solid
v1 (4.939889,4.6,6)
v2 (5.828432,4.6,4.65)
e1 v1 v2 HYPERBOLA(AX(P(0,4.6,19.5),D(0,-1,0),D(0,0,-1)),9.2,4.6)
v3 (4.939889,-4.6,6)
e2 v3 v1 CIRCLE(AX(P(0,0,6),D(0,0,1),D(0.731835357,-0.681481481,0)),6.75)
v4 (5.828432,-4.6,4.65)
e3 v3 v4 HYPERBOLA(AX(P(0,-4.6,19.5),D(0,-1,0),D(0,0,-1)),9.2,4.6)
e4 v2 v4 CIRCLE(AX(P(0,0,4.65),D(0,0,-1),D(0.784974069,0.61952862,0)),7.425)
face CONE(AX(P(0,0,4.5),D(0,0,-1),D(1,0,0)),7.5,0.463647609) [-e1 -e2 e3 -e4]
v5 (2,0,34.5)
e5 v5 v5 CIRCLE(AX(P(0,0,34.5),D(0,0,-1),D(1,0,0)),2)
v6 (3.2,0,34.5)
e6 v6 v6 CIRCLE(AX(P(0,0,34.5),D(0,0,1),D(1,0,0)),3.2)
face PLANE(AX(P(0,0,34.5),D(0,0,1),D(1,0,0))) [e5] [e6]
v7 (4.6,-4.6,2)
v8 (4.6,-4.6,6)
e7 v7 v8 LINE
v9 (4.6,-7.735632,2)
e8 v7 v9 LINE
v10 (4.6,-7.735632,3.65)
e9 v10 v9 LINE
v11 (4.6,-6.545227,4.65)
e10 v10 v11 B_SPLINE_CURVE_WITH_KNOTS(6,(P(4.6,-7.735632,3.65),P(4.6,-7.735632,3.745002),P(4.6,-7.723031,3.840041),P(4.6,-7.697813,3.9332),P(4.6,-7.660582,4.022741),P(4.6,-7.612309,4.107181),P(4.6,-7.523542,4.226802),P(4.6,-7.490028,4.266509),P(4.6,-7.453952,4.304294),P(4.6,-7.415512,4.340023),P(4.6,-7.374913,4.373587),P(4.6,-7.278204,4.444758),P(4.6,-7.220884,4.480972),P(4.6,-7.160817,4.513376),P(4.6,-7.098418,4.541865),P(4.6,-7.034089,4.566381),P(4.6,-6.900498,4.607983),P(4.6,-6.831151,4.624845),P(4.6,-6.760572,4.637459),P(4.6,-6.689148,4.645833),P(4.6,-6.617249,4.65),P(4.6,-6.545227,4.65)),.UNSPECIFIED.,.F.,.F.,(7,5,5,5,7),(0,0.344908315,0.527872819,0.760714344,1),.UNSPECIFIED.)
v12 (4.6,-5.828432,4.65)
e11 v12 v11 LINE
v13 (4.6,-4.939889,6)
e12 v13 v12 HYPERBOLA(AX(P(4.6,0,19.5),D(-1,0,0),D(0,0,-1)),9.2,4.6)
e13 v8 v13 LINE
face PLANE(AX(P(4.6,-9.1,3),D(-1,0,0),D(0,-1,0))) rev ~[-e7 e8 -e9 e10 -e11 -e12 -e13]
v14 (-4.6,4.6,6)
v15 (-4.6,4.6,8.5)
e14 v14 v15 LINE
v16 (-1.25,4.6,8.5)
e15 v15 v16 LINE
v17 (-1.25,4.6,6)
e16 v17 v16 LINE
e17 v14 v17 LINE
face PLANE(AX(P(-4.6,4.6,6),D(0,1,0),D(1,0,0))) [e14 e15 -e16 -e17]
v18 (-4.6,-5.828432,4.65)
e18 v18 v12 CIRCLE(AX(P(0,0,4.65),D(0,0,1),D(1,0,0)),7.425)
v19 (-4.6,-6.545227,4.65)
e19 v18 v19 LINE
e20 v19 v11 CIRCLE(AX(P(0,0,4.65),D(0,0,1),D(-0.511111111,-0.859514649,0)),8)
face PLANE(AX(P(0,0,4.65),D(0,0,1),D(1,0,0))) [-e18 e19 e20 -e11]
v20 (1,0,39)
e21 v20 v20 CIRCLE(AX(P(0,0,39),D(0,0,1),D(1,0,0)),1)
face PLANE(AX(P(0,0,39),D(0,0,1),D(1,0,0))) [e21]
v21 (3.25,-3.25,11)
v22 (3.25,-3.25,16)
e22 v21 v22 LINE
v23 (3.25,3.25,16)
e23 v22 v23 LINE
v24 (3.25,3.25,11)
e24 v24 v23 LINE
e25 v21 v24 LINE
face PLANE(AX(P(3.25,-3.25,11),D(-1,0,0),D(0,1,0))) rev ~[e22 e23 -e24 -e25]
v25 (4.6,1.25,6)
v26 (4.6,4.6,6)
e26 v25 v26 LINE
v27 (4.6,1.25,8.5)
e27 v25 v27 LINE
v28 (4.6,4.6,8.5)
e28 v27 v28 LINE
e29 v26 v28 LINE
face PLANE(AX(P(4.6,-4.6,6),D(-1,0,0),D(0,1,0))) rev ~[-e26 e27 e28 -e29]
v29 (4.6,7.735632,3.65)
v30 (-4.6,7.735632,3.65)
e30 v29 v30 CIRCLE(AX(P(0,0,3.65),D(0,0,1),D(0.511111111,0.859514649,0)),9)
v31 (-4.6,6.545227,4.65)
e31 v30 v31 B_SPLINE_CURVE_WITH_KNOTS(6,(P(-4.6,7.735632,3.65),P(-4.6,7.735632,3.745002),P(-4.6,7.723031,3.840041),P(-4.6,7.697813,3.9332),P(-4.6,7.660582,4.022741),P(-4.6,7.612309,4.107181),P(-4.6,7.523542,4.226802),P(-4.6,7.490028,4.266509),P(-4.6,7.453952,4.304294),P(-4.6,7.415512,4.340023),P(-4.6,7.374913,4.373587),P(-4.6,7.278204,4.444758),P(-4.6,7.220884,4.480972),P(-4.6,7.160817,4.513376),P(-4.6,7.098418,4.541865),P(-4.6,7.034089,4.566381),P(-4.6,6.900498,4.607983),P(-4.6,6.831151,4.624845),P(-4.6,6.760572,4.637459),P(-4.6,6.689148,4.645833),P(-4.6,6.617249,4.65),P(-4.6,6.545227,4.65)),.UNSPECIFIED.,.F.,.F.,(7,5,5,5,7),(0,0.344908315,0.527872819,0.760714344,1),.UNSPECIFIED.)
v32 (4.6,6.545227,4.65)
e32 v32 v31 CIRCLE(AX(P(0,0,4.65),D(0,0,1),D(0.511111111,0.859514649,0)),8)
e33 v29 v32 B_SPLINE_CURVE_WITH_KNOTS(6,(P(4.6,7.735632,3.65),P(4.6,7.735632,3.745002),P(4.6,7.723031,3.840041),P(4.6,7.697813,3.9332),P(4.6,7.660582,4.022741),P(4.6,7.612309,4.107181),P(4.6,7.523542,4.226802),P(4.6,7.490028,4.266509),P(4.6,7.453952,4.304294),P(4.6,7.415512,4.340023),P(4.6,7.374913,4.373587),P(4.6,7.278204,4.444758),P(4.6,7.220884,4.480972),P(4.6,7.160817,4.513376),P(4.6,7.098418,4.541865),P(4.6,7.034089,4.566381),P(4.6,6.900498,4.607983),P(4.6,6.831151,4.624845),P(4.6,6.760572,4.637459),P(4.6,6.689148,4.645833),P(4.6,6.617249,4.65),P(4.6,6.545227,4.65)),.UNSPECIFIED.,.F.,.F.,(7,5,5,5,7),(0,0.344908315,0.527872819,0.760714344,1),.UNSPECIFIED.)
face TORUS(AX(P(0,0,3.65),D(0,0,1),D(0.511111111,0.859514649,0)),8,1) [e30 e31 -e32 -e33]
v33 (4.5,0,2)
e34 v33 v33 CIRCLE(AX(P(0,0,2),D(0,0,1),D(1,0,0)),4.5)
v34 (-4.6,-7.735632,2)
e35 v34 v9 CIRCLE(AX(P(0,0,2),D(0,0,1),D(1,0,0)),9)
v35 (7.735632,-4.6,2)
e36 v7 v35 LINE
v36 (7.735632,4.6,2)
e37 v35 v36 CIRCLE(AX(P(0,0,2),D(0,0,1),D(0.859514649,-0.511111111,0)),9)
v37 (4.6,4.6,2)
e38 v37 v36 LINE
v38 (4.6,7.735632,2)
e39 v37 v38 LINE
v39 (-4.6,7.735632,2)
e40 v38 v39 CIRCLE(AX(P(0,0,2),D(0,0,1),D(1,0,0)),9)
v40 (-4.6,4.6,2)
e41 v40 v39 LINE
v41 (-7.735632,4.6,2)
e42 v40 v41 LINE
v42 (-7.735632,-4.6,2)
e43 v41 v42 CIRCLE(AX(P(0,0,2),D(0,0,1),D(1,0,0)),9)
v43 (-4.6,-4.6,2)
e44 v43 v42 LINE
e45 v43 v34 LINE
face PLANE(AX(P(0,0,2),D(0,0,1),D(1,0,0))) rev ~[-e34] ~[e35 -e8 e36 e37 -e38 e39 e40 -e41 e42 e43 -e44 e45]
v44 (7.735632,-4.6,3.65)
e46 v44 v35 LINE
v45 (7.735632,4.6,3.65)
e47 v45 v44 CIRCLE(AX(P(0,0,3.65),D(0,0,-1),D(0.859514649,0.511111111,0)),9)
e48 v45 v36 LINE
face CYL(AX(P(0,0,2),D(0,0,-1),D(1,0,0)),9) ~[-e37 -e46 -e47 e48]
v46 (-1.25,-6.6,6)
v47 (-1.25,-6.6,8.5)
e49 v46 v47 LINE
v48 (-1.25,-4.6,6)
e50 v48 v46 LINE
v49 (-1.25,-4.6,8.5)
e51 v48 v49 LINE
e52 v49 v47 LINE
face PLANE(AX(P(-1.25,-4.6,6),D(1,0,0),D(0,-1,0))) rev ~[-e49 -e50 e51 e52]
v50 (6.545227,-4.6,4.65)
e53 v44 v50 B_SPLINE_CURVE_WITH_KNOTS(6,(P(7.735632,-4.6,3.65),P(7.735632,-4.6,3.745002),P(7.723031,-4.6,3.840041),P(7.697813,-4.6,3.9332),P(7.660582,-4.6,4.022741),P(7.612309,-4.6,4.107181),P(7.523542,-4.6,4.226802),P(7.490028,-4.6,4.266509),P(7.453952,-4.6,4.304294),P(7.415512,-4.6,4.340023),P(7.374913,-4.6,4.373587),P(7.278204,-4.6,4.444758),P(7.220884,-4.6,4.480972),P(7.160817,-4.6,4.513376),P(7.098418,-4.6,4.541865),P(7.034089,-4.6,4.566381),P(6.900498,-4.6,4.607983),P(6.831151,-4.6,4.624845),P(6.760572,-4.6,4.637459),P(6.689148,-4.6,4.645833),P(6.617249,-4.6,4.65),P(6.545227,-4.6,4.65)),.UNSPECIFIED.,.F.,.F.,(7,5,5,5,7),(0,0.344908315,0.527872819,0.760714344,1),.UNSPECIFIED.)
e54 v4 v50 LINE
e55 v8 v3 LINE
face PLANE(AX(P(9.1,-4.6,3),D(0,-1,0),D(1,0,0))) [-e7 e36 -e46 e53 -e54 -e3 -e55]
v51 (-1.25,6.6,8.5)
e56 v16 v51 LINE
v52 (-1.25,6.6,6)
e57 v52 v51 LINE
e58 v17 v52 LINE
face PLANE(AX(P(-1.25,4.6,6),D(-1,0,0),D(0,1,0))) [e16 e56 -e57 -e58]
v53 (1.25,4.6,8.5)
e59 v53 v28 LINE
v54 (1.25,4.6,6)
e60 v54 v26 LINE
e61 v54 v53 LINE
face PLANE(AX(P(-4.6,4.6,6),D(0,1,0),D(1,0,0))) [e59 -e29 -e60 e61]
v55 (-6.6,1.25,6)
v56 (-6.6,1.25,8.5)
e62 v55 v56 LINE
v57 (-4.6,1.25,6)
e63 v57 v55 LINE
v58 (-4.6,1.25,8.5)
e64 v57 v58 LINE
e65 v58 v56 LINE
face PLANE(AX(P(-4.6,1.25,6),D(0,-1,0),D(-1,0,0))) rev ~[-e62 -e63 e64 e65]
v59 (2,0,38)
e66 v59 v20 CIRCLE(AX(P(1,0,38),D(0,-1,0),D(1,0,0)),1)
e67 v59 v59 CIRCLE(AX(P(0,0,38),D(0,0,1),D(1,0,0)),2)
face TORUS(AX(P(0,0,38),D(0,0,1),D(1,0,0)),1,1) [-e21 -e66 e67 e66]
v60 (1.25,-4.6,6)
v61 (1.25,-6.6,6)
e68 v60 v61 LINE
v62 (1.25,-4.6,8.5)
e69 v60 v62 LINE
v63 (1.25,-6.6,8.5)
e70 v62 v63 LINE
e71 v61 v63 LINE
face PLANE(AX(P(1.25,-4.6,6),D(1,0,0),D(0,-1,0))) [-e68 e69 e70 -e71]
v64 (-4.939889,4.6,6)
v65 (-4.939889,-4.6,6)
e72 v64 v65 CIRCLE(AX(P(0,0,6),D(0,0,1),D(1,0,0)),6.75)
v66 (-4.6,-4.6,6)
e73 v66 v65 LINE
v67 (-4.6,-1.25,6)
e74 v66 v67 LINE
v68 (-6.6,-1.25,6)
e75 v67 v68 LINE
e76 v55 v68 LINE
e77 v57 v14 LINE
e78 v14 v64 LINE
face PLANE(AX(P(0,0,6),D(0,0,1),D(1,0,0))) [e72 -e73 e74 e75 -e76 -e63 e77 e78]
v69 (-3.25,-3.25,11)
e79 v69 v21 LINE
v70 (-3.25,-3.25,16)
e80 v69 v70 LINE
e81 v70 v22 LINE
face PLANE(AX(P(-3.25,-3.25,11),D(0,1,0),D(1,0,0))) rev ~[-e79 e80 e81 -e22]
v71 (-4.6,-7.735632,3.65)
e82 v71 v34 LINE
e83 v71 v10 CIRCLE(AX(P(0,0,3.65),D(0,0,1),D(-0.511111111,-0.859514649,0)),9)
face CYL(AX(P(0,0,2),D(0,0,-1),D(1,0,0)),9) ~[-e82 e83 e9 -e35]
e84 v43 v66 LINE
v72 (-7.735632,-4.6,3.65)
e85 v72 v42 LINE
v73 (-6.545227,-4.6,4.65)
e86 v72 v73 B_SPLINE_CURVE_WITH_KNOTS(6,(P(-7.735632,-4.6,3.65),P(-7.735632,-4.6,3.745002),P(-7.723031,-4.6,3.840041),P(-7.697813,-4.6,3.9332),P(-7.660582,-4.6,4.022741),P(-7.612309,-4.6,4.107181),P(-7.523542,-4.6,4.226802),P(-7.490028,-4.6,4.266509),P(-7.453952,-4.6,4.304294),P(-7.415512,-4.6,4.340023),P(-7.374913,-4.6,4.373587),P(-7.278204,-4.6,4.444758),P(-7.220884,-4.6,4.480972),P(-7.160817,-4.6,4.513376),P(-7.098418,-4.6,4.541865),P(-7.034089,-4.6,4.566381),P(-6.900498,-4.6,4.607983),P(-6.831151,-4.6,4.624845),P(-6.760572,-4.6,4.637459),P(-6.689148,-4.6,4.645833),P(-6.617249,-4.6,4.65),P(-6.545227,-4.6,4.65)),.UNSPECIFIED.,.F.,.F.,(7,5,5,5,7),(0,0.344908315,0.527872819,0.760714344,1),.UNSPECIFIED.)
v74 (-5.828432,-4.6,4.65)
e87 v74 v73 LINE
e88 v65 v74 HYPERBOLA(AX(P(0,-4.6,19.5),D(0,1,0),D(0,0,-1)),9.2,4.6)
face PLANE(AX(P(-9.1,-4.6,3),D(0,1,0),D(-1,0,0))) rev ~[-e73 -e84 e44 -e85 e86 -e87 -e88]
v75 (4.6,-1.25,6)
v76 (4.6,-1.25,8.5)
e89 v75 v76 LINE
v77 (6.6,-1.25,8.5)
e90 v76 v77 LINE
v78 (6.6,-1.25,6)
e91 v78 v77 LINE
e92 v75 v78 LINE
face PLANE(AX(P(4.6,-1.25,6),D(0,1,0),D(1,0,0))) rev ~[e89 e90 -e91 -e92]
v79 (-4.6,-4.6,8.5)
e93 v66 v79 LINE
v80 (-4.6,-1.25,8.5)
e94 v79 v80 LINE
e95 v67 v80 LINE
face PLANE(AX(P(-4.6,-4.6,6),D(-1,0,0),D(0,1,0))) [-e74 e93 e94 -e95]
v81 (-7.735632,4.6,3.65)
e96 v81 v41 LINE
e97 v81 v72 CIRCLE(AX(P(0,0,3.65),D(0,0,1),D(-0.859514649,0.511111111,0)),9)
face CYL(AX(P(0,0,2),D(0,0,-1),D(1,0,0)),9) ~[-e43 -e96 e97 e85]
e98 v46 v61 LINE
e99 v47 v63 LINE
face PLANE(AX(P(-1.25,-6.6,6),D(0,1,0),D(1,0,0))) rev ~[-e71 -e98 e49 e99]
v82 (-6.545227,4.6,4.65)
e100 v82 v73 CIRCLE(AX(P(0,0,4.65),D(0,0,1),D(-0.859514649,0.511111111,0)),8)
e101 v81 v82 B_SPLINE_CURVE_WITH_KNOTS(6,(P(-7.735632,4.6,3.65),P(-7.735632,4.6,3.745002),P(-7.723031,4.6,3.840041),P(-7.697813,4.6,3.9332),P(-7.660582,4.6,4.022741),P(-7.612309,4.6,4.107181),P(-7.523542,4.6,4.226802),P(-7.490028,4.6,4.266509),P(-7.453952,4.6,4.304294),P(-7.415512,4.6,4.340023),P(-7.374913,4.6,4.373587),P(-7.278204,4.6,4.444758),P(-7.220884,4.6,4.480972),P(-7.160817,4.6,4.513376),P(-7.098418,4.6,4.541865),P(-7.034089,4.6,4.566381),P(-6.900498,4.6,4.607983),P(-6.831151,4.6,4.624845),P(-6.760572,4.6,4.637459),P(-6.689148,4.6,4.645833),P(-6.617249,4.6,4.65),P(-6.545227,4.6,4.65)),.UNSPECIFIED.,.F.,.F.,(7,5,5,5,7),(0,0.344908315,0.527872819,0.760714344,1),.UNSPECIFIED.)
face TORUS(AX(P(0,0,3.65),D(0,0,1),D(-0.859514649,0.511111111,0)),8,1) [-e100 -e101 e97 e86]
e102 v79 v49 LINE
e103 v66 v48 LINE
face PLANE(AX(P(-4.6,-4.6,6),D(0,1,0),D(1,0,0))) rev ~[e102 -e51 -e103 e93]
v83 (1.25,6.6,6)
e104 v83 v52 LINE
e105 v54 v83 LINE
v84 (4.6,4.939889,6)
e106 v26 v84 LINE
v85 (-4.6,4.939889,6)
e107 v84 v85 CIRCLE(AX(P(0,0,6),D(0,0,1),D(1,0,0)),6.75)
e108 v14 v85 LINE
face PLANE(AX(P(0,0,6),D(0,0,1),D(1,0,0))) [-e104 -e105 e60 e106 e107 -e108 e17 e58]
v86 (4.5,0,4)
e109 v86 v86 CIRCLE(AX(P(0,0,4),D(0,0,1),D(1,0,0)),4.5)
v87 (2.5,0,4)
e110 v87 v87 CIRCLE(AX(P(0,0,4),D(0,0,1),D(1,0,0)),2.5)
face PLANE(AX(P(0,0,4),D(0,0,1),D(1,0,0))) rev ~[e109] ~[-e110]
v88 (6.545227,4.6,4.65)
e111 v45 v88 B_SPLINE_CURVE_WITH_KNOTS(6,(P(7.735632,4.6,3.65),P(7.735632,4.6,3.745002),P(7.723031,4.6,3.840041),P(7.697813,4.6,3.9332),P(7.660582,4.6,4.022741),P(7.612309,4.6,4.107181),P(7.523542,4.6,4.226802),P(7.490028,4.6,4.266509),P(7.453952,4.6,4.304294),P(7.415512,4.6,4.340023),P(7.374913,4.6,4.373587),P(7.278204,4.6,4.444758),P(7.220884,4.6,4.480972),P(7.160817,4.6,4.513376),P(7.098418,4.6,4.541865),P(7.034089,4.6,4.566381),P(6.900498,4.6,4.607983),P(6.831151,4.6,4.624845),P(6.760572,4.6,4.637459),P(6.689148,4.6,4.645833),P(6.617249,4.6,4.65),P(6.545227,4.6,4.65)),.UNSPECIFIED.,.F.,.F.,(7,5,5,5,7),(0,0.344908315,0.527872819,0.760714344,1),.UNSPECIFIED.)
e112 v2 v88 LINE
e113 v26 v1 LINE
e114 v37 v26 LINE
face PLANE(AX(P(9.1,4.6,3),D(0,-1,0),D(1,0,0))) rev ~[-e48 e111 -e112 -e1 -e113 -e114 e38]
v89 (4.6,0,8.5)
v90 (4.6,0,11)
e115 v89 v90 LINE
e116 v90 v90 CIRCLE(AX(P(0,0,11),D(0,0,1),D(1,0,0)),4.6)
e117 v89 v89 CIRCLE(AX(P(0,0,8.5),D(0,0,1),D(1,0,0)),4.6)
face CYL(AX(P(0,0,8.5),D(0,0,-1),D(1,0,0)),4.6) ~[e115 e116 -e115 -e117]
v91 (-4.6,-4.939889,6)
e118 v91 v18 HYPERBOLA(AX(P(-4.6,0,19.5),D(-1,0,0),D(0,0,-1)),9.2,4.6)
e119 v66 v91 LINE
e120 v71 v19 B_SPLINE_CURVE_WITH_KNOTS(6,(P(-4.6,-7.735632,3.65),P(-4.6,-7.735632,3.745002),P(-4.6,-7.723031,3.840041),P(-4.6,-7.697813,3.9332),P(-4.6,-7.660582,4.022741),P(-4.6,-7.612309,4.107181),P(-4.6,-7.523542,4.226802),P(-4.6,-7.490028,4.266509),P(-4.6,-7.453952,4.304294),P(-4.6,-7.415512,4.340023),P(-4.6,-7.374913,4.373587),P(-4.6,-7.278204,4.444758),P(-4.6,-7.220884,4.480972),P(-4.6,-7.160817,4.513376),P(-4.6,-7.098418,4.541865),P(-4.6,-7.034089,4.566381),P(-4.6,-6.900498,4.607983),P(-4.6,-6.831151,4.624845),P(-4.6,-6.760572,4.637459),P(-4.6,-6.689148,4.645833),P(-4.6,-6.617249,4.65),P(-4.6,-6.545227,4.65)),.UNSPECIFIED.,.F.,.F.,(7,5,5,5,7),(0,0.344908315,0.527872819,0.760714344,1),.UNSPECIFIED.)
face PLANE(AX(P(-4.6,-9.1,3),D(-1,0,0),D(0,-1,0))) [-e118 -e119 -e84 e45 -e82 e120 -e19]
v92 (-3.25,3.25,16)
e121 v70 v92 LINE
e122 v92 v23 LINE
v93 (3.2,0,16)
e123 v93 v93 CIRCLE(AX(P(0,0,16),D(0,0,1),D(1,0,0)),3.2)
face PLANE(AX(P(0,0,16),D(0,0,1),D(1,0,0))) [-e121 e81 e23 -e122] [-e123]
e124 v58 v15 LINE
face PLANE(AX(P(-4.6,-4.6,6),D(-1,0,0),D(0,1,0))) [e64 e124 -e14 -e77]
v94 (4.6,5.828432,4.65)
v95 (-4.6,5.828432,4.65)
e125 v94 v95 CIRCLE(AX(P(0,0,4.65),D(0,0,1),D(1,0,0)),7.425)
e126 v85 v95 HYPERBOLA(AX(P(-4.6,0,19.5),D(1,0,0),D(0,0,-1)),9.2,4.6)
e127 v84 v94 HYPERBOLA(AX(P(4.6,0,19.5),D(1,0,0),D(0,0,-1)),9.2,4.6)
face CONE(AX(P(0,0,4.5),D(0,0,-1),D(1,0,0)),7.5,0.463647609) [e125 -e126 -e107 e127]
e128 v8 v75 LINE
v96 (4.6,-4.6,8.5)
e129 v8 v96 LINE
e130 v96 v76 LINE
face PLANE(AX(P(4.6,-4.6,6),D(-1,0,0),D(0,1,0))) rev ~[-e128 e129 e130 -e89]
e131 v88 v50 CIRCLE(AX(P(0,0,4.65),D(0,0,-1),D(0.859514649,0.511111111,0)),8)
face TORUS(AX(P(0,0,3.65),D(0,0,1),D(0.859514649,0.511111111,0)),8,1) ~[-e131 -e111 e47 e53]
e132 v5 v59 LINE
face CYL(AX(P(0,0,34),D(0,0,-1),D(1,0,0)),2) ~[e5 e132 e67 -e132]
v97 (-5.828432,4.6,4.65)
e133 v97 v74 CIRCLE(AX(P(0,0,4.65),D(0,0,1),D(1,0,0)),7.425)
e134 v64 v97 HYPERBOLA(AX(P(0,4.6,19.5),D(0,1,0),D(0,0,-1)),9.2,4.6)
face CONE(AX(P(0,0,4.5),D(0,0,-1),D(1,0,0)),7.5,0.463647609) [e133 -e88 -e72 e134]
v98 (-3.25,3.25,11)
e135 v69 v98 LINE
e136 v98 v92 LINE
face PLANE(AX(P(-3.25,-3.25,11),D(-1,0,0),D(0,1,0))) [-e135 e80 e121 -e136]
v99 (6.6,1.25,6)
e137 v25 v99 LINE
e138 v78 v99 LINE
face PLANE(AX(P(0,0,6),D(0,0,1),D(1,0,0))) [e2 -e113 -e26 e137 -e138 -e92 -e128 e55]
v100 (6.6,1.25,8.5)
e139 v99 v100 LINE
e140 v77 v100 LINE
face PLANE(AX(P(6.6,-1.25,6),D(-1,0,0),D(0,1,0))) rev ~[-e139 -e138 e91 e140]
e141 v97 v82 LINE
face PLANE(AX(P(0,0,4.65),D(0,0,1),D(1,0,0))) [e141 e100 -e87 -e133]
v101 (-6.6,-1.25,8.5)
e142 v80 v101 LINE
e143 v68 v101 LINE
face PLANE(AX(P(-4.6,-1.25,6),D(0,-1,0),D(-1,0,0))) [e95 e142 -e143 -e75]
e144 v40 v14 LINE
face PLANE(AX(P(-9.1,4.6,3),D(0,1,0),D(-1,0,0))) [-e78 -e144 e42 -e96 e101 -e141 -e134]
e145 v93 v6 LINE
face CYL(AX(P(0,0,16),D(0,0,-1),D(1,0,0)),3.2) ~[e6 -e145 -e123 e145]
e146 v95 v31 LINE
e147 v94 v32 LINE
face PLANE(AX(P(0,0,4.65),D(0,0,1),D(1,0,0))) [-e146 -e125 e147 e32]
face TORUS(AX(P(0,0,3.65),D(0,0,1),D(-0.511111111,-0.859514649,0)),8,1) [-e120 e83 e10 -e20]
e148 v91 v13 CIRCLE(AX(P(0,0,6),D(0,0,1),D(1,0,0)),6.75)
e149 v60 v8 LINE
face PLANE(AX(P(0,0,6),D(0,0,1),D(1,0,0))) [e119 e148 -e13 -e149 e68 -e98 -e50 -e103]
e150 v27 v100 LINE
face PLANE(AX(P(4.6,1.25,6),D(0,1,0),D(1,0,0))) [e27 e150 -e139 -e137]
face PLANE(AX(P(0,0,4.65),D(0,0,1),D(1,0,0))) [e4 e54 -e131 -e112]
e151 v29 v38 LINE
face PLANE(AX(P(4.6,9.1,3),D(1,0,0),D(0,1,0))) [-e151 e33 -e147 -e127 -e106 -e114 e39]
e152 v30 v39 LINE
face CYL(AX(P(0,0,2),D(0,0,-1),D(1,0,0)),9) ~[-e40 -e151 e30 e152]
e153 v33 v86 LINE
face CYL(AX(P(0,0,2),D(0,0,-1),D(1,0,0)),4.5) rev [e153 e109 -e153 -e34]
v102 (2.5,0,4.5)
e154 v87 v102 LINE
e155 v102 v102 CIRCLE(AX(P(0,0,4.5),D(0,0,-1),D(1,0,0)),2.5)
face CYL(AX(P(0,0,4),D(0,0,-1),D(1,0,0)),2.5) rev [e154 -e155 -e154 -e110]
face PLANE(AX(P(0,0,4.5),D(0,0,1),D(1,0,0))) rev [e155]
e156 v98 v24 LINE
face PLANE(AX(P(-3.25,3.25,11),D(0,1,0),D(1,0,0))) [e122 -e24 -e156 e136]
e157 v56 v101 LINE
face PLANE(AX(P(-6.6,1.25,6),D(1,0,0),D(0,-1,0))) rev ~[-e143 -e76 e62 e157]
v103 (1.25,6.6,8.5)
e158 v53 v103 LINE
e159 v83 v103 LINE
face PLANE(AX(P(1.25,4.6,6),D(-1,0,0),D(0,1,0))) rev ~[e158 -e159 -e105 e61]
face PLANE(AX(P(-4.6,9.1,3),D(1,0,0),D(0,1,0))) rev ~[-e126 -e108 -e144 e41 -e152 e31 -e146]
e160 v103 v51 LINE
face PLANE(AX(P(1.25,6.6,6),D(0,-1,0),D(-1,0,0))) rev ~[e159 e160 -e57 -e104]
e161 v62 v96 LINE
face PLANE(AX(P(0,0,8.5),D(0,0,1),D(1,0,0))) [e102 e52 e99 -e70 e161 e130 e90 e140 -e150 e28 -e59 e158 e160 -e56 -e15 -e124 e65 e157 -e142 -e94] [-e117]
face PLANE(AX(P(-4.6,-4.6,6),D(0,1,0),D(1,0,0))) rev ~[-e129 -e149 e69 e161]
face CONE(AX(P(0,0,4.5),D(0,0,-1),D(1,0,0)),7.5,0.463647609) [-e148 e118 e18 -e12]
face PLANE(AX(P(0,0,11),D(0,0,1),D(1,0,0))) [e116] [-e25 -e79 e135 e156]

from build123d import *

# Parameters (mm, degrees)
BOX001_W          = 2
BOX001_H          = 2.5
BOX001_DEPTH      = 2.5
ARRAY001_COUNT    = 4
CYLINDER003_R     = 4.6
CYLINDER003_DEPTH = 2.5
BOX002_W          = 6.5
BOX002_H          = 6.5
BOX002_DEPTH      = 5
CYLINDER004_R     = 3.2
CYLINDER004_DEPTH = 18.5
CYLINDER001_W     = 9
CYLINDER001_H     = 6
CYLINDER001_ANGLE = 90
ARRAY_COUNT       = 4
CYLINDER006_R     = 4.5
CYLINDER006_DEPTH = 2
CYLINDER007_R     = 2.5
CYLINDER007_DEPTH = 6
CYLINDER_R        = 9
CYLINDER_DEPTH    = 2.65
FILLET_R          = 1
FILLET001_R       = 1
FILLET002_R       = 1
FILLET003_R       = 1
CYLINDER005_R     = 2
CYLINDER005_DEPTH = 5
FILLET004_R       = 1
BOX_W             = 9.2
BOX_H             = 9.2
BOX_DEPTH         = 2.5


with BuildPart() as array001:
    # Box001 → Box001 (new body)
    with BuildSketch(Plane(origin=(4.6, -1.25, 6), x_dir=(1, 0, 0), z_dir=(0, 0, 1))):
        with Locations((1, 1.25)):
            Rectangle(BOX001_W, BOX001_H)
    extrude(amount=BOX001_DEPTH)

    # Array001: Array001 ×4 about axis
    array001_axis = Axis((0, 0, 0), (0, 0, 1))


with BuildPart() as array001_1:
    add(array001.part)
    for i in range(1, ARRAY001_COUNT):
        add(array001.part.rotate(array001_axis, i * 360 / ARRAY001_COUNT))


with BuildPart() as cilindro003:
    # Cylinder003 → Cylinder003 (new body)
    with BuildSketch(Plane.XY.offset(8.5)):
        Circle(CYLINDER003_R)
    extrude(amount=CYLINDER003_DEPTH)


with BuildPart() as cubo002:
    # Box002 → Box002 (new body)
    with BuildSketch(Plane(origin=(-3.25, -3.25, 11), x_dir=(1, 0, 0), z_dir=(0, 0, 1))):
        with Locations((3.25, 3.25)):
            Rectangle(BOX002_W, BOX002_H)
    extrude(amount=BOX002_DEPTH)


with BuildPart() as cilindro004:
    # Cylinder004 → Cylinder004 (new body)
    with BuildSketch(Plane.XY.offset(16)):
        Circle(CYLINDER004_R)
    extrude(amount=CYLINDER004_DEPTH)


with BuildPart() as array:
    # Cylinder001 → Cylinder001 (revolve)
    with BuildSketch(Plane(origin=(4.6, 4.6, 0), x_dir=(1, 0, 0), z_dir=(0, -1, 0))):
        with Locations((4.5, 3)):
            Rectangle(CYLINDER001_W, CYLINDER001_H)
    revolve(axis=Axis((4.6, 4.6, 0), (0, 0, 1)), revolution_arc=CYLINDER001_ANGLE)

    # Array: Array ×4 about axis
    array_axis = Axis((0, 0, 0), (0, 0, 1))


with BuildPart() as array_1:
    add(array.part)
    for i in range(1, ARRAY_COUNT):
        add(array.part.rotate(array_axis, i * 360 / ARRAY_COUNT))


with BuildPart() as cilindro006:
    # Cylinder006 → Cylinder006 (new body)
    with BuildSketch(Plane.XY.offset(2)):
        Circle(CYLINDER006_R)
    extrude(amount=CYLINDER006_DEPTH)


with BuildPart() as cilindro007:
    # Cylinder007 → Cylinder007 (new body)
    with BuildSketch(Plane.XY.offset(4)):
        Circle(CYLINDER007_R)
    extrude(amount=CYLINDER007_DEPTH)


with BuildPart() as cut001:
    # Cylinder → Cylinder (new body)
    with BuildSketch(Plane.XY.offset(2)):
        Circle(CYLINDER_R)
    extrude(amount=CYLINDER_DEPTH)

    # Cut: cut Cilindro007
    add(cilindro007.part, mode=Mode.SUBTRACT)

    # Cut001: cut Cilindro006
    add(cilindro006.part, mode=Mode.SUBTRACT)


with BuildPart() as fillet003:
    # Cone → Cone (revolve)
    with BuildSketch(Plane(origin=(0, 0, 4.5), x_dir=(1, 0, 0), z_dir=(0, -1, 0))):
        Polygon((0, 0), (7.5, 0), (6.75, 1.5), (0, 1.5), align=None)
    revolve(axis=Axis((0, 0, 4.5), (0, 0, 1)))

    # Fusion: union Cut001
    add(cut001.part)

    # Cut002: cut Array
    add(array_1.part, mode=Mode.SUBTRACT)

    # Fillet
    fillet_edges = [fillet003.edges().sort_by_distance(p)[0] for p in [
        (0, 9, 4.65),
    ]]
    fillet(fillet_edges, radius=FILLET_R)

    # Fillet001
    fillet001_edges = [fillet003.edges().sort_by_distance(p)[0] for p in [
        (-9, 0, 4.65),
    ]]
    fillet(fillet001_edges, radius=FILLET001_R)

    # Fillet002
    fillet002_edges = [fillet003.edges().sort_by_distance(p)[0] for p in [
        (0, -9, 4.65),
    ]]
    fillet(fillet002_edges, radius=FILLET002_R)

    # Fillet003
    fillet003_edges = [fillet003.edges().sort_by_distance(p)[0] for p in [
        (8.678153, 2.3853, 4.65),
    ]]
    fillet(fillet003_edges, radius=FILLET003_R)


with BuildPart() as fillet004:
    # Cylinder005 → Cylinder005 (new body)
    with BuildSketch(Plane.XY.offset(34)):
        Circle(CYLINDER005_R)
    extrude(amount=CYLINDER005_DEPTH)

    # Fillet004
    fillet004_edges = [fillet004.edges().sort_by_distance(p)[0] for p in [
        (-2, 0, 39),
    ]]
    fillet(fillet004_edges, radius=FILLET004_R)


with BuildPart() as fusion001:
    # Box → Box (new body)
    with BuildSketch(Plane(origin=(-4.6, -4.6, 6), x_dir=(1, 0, 0), z_dir=(0, 0, 1))):
        with Locations((4.6, 4.6)):
            Rectangle(BOX_W, BOX_H)
    extrude(amount=BOX_DEPTH)

    # Fusion001: union Array001, Cilindro003, Cubo002, Cilindro004, Fillet003, Fillet004
    add(array001_1.part)
    add(cilindro003.part)
    add(cubo002.part)
    add(cilindro004.part)
    add(fillet003.part)
    add(fillet004.part)


solid = fusion001.part
